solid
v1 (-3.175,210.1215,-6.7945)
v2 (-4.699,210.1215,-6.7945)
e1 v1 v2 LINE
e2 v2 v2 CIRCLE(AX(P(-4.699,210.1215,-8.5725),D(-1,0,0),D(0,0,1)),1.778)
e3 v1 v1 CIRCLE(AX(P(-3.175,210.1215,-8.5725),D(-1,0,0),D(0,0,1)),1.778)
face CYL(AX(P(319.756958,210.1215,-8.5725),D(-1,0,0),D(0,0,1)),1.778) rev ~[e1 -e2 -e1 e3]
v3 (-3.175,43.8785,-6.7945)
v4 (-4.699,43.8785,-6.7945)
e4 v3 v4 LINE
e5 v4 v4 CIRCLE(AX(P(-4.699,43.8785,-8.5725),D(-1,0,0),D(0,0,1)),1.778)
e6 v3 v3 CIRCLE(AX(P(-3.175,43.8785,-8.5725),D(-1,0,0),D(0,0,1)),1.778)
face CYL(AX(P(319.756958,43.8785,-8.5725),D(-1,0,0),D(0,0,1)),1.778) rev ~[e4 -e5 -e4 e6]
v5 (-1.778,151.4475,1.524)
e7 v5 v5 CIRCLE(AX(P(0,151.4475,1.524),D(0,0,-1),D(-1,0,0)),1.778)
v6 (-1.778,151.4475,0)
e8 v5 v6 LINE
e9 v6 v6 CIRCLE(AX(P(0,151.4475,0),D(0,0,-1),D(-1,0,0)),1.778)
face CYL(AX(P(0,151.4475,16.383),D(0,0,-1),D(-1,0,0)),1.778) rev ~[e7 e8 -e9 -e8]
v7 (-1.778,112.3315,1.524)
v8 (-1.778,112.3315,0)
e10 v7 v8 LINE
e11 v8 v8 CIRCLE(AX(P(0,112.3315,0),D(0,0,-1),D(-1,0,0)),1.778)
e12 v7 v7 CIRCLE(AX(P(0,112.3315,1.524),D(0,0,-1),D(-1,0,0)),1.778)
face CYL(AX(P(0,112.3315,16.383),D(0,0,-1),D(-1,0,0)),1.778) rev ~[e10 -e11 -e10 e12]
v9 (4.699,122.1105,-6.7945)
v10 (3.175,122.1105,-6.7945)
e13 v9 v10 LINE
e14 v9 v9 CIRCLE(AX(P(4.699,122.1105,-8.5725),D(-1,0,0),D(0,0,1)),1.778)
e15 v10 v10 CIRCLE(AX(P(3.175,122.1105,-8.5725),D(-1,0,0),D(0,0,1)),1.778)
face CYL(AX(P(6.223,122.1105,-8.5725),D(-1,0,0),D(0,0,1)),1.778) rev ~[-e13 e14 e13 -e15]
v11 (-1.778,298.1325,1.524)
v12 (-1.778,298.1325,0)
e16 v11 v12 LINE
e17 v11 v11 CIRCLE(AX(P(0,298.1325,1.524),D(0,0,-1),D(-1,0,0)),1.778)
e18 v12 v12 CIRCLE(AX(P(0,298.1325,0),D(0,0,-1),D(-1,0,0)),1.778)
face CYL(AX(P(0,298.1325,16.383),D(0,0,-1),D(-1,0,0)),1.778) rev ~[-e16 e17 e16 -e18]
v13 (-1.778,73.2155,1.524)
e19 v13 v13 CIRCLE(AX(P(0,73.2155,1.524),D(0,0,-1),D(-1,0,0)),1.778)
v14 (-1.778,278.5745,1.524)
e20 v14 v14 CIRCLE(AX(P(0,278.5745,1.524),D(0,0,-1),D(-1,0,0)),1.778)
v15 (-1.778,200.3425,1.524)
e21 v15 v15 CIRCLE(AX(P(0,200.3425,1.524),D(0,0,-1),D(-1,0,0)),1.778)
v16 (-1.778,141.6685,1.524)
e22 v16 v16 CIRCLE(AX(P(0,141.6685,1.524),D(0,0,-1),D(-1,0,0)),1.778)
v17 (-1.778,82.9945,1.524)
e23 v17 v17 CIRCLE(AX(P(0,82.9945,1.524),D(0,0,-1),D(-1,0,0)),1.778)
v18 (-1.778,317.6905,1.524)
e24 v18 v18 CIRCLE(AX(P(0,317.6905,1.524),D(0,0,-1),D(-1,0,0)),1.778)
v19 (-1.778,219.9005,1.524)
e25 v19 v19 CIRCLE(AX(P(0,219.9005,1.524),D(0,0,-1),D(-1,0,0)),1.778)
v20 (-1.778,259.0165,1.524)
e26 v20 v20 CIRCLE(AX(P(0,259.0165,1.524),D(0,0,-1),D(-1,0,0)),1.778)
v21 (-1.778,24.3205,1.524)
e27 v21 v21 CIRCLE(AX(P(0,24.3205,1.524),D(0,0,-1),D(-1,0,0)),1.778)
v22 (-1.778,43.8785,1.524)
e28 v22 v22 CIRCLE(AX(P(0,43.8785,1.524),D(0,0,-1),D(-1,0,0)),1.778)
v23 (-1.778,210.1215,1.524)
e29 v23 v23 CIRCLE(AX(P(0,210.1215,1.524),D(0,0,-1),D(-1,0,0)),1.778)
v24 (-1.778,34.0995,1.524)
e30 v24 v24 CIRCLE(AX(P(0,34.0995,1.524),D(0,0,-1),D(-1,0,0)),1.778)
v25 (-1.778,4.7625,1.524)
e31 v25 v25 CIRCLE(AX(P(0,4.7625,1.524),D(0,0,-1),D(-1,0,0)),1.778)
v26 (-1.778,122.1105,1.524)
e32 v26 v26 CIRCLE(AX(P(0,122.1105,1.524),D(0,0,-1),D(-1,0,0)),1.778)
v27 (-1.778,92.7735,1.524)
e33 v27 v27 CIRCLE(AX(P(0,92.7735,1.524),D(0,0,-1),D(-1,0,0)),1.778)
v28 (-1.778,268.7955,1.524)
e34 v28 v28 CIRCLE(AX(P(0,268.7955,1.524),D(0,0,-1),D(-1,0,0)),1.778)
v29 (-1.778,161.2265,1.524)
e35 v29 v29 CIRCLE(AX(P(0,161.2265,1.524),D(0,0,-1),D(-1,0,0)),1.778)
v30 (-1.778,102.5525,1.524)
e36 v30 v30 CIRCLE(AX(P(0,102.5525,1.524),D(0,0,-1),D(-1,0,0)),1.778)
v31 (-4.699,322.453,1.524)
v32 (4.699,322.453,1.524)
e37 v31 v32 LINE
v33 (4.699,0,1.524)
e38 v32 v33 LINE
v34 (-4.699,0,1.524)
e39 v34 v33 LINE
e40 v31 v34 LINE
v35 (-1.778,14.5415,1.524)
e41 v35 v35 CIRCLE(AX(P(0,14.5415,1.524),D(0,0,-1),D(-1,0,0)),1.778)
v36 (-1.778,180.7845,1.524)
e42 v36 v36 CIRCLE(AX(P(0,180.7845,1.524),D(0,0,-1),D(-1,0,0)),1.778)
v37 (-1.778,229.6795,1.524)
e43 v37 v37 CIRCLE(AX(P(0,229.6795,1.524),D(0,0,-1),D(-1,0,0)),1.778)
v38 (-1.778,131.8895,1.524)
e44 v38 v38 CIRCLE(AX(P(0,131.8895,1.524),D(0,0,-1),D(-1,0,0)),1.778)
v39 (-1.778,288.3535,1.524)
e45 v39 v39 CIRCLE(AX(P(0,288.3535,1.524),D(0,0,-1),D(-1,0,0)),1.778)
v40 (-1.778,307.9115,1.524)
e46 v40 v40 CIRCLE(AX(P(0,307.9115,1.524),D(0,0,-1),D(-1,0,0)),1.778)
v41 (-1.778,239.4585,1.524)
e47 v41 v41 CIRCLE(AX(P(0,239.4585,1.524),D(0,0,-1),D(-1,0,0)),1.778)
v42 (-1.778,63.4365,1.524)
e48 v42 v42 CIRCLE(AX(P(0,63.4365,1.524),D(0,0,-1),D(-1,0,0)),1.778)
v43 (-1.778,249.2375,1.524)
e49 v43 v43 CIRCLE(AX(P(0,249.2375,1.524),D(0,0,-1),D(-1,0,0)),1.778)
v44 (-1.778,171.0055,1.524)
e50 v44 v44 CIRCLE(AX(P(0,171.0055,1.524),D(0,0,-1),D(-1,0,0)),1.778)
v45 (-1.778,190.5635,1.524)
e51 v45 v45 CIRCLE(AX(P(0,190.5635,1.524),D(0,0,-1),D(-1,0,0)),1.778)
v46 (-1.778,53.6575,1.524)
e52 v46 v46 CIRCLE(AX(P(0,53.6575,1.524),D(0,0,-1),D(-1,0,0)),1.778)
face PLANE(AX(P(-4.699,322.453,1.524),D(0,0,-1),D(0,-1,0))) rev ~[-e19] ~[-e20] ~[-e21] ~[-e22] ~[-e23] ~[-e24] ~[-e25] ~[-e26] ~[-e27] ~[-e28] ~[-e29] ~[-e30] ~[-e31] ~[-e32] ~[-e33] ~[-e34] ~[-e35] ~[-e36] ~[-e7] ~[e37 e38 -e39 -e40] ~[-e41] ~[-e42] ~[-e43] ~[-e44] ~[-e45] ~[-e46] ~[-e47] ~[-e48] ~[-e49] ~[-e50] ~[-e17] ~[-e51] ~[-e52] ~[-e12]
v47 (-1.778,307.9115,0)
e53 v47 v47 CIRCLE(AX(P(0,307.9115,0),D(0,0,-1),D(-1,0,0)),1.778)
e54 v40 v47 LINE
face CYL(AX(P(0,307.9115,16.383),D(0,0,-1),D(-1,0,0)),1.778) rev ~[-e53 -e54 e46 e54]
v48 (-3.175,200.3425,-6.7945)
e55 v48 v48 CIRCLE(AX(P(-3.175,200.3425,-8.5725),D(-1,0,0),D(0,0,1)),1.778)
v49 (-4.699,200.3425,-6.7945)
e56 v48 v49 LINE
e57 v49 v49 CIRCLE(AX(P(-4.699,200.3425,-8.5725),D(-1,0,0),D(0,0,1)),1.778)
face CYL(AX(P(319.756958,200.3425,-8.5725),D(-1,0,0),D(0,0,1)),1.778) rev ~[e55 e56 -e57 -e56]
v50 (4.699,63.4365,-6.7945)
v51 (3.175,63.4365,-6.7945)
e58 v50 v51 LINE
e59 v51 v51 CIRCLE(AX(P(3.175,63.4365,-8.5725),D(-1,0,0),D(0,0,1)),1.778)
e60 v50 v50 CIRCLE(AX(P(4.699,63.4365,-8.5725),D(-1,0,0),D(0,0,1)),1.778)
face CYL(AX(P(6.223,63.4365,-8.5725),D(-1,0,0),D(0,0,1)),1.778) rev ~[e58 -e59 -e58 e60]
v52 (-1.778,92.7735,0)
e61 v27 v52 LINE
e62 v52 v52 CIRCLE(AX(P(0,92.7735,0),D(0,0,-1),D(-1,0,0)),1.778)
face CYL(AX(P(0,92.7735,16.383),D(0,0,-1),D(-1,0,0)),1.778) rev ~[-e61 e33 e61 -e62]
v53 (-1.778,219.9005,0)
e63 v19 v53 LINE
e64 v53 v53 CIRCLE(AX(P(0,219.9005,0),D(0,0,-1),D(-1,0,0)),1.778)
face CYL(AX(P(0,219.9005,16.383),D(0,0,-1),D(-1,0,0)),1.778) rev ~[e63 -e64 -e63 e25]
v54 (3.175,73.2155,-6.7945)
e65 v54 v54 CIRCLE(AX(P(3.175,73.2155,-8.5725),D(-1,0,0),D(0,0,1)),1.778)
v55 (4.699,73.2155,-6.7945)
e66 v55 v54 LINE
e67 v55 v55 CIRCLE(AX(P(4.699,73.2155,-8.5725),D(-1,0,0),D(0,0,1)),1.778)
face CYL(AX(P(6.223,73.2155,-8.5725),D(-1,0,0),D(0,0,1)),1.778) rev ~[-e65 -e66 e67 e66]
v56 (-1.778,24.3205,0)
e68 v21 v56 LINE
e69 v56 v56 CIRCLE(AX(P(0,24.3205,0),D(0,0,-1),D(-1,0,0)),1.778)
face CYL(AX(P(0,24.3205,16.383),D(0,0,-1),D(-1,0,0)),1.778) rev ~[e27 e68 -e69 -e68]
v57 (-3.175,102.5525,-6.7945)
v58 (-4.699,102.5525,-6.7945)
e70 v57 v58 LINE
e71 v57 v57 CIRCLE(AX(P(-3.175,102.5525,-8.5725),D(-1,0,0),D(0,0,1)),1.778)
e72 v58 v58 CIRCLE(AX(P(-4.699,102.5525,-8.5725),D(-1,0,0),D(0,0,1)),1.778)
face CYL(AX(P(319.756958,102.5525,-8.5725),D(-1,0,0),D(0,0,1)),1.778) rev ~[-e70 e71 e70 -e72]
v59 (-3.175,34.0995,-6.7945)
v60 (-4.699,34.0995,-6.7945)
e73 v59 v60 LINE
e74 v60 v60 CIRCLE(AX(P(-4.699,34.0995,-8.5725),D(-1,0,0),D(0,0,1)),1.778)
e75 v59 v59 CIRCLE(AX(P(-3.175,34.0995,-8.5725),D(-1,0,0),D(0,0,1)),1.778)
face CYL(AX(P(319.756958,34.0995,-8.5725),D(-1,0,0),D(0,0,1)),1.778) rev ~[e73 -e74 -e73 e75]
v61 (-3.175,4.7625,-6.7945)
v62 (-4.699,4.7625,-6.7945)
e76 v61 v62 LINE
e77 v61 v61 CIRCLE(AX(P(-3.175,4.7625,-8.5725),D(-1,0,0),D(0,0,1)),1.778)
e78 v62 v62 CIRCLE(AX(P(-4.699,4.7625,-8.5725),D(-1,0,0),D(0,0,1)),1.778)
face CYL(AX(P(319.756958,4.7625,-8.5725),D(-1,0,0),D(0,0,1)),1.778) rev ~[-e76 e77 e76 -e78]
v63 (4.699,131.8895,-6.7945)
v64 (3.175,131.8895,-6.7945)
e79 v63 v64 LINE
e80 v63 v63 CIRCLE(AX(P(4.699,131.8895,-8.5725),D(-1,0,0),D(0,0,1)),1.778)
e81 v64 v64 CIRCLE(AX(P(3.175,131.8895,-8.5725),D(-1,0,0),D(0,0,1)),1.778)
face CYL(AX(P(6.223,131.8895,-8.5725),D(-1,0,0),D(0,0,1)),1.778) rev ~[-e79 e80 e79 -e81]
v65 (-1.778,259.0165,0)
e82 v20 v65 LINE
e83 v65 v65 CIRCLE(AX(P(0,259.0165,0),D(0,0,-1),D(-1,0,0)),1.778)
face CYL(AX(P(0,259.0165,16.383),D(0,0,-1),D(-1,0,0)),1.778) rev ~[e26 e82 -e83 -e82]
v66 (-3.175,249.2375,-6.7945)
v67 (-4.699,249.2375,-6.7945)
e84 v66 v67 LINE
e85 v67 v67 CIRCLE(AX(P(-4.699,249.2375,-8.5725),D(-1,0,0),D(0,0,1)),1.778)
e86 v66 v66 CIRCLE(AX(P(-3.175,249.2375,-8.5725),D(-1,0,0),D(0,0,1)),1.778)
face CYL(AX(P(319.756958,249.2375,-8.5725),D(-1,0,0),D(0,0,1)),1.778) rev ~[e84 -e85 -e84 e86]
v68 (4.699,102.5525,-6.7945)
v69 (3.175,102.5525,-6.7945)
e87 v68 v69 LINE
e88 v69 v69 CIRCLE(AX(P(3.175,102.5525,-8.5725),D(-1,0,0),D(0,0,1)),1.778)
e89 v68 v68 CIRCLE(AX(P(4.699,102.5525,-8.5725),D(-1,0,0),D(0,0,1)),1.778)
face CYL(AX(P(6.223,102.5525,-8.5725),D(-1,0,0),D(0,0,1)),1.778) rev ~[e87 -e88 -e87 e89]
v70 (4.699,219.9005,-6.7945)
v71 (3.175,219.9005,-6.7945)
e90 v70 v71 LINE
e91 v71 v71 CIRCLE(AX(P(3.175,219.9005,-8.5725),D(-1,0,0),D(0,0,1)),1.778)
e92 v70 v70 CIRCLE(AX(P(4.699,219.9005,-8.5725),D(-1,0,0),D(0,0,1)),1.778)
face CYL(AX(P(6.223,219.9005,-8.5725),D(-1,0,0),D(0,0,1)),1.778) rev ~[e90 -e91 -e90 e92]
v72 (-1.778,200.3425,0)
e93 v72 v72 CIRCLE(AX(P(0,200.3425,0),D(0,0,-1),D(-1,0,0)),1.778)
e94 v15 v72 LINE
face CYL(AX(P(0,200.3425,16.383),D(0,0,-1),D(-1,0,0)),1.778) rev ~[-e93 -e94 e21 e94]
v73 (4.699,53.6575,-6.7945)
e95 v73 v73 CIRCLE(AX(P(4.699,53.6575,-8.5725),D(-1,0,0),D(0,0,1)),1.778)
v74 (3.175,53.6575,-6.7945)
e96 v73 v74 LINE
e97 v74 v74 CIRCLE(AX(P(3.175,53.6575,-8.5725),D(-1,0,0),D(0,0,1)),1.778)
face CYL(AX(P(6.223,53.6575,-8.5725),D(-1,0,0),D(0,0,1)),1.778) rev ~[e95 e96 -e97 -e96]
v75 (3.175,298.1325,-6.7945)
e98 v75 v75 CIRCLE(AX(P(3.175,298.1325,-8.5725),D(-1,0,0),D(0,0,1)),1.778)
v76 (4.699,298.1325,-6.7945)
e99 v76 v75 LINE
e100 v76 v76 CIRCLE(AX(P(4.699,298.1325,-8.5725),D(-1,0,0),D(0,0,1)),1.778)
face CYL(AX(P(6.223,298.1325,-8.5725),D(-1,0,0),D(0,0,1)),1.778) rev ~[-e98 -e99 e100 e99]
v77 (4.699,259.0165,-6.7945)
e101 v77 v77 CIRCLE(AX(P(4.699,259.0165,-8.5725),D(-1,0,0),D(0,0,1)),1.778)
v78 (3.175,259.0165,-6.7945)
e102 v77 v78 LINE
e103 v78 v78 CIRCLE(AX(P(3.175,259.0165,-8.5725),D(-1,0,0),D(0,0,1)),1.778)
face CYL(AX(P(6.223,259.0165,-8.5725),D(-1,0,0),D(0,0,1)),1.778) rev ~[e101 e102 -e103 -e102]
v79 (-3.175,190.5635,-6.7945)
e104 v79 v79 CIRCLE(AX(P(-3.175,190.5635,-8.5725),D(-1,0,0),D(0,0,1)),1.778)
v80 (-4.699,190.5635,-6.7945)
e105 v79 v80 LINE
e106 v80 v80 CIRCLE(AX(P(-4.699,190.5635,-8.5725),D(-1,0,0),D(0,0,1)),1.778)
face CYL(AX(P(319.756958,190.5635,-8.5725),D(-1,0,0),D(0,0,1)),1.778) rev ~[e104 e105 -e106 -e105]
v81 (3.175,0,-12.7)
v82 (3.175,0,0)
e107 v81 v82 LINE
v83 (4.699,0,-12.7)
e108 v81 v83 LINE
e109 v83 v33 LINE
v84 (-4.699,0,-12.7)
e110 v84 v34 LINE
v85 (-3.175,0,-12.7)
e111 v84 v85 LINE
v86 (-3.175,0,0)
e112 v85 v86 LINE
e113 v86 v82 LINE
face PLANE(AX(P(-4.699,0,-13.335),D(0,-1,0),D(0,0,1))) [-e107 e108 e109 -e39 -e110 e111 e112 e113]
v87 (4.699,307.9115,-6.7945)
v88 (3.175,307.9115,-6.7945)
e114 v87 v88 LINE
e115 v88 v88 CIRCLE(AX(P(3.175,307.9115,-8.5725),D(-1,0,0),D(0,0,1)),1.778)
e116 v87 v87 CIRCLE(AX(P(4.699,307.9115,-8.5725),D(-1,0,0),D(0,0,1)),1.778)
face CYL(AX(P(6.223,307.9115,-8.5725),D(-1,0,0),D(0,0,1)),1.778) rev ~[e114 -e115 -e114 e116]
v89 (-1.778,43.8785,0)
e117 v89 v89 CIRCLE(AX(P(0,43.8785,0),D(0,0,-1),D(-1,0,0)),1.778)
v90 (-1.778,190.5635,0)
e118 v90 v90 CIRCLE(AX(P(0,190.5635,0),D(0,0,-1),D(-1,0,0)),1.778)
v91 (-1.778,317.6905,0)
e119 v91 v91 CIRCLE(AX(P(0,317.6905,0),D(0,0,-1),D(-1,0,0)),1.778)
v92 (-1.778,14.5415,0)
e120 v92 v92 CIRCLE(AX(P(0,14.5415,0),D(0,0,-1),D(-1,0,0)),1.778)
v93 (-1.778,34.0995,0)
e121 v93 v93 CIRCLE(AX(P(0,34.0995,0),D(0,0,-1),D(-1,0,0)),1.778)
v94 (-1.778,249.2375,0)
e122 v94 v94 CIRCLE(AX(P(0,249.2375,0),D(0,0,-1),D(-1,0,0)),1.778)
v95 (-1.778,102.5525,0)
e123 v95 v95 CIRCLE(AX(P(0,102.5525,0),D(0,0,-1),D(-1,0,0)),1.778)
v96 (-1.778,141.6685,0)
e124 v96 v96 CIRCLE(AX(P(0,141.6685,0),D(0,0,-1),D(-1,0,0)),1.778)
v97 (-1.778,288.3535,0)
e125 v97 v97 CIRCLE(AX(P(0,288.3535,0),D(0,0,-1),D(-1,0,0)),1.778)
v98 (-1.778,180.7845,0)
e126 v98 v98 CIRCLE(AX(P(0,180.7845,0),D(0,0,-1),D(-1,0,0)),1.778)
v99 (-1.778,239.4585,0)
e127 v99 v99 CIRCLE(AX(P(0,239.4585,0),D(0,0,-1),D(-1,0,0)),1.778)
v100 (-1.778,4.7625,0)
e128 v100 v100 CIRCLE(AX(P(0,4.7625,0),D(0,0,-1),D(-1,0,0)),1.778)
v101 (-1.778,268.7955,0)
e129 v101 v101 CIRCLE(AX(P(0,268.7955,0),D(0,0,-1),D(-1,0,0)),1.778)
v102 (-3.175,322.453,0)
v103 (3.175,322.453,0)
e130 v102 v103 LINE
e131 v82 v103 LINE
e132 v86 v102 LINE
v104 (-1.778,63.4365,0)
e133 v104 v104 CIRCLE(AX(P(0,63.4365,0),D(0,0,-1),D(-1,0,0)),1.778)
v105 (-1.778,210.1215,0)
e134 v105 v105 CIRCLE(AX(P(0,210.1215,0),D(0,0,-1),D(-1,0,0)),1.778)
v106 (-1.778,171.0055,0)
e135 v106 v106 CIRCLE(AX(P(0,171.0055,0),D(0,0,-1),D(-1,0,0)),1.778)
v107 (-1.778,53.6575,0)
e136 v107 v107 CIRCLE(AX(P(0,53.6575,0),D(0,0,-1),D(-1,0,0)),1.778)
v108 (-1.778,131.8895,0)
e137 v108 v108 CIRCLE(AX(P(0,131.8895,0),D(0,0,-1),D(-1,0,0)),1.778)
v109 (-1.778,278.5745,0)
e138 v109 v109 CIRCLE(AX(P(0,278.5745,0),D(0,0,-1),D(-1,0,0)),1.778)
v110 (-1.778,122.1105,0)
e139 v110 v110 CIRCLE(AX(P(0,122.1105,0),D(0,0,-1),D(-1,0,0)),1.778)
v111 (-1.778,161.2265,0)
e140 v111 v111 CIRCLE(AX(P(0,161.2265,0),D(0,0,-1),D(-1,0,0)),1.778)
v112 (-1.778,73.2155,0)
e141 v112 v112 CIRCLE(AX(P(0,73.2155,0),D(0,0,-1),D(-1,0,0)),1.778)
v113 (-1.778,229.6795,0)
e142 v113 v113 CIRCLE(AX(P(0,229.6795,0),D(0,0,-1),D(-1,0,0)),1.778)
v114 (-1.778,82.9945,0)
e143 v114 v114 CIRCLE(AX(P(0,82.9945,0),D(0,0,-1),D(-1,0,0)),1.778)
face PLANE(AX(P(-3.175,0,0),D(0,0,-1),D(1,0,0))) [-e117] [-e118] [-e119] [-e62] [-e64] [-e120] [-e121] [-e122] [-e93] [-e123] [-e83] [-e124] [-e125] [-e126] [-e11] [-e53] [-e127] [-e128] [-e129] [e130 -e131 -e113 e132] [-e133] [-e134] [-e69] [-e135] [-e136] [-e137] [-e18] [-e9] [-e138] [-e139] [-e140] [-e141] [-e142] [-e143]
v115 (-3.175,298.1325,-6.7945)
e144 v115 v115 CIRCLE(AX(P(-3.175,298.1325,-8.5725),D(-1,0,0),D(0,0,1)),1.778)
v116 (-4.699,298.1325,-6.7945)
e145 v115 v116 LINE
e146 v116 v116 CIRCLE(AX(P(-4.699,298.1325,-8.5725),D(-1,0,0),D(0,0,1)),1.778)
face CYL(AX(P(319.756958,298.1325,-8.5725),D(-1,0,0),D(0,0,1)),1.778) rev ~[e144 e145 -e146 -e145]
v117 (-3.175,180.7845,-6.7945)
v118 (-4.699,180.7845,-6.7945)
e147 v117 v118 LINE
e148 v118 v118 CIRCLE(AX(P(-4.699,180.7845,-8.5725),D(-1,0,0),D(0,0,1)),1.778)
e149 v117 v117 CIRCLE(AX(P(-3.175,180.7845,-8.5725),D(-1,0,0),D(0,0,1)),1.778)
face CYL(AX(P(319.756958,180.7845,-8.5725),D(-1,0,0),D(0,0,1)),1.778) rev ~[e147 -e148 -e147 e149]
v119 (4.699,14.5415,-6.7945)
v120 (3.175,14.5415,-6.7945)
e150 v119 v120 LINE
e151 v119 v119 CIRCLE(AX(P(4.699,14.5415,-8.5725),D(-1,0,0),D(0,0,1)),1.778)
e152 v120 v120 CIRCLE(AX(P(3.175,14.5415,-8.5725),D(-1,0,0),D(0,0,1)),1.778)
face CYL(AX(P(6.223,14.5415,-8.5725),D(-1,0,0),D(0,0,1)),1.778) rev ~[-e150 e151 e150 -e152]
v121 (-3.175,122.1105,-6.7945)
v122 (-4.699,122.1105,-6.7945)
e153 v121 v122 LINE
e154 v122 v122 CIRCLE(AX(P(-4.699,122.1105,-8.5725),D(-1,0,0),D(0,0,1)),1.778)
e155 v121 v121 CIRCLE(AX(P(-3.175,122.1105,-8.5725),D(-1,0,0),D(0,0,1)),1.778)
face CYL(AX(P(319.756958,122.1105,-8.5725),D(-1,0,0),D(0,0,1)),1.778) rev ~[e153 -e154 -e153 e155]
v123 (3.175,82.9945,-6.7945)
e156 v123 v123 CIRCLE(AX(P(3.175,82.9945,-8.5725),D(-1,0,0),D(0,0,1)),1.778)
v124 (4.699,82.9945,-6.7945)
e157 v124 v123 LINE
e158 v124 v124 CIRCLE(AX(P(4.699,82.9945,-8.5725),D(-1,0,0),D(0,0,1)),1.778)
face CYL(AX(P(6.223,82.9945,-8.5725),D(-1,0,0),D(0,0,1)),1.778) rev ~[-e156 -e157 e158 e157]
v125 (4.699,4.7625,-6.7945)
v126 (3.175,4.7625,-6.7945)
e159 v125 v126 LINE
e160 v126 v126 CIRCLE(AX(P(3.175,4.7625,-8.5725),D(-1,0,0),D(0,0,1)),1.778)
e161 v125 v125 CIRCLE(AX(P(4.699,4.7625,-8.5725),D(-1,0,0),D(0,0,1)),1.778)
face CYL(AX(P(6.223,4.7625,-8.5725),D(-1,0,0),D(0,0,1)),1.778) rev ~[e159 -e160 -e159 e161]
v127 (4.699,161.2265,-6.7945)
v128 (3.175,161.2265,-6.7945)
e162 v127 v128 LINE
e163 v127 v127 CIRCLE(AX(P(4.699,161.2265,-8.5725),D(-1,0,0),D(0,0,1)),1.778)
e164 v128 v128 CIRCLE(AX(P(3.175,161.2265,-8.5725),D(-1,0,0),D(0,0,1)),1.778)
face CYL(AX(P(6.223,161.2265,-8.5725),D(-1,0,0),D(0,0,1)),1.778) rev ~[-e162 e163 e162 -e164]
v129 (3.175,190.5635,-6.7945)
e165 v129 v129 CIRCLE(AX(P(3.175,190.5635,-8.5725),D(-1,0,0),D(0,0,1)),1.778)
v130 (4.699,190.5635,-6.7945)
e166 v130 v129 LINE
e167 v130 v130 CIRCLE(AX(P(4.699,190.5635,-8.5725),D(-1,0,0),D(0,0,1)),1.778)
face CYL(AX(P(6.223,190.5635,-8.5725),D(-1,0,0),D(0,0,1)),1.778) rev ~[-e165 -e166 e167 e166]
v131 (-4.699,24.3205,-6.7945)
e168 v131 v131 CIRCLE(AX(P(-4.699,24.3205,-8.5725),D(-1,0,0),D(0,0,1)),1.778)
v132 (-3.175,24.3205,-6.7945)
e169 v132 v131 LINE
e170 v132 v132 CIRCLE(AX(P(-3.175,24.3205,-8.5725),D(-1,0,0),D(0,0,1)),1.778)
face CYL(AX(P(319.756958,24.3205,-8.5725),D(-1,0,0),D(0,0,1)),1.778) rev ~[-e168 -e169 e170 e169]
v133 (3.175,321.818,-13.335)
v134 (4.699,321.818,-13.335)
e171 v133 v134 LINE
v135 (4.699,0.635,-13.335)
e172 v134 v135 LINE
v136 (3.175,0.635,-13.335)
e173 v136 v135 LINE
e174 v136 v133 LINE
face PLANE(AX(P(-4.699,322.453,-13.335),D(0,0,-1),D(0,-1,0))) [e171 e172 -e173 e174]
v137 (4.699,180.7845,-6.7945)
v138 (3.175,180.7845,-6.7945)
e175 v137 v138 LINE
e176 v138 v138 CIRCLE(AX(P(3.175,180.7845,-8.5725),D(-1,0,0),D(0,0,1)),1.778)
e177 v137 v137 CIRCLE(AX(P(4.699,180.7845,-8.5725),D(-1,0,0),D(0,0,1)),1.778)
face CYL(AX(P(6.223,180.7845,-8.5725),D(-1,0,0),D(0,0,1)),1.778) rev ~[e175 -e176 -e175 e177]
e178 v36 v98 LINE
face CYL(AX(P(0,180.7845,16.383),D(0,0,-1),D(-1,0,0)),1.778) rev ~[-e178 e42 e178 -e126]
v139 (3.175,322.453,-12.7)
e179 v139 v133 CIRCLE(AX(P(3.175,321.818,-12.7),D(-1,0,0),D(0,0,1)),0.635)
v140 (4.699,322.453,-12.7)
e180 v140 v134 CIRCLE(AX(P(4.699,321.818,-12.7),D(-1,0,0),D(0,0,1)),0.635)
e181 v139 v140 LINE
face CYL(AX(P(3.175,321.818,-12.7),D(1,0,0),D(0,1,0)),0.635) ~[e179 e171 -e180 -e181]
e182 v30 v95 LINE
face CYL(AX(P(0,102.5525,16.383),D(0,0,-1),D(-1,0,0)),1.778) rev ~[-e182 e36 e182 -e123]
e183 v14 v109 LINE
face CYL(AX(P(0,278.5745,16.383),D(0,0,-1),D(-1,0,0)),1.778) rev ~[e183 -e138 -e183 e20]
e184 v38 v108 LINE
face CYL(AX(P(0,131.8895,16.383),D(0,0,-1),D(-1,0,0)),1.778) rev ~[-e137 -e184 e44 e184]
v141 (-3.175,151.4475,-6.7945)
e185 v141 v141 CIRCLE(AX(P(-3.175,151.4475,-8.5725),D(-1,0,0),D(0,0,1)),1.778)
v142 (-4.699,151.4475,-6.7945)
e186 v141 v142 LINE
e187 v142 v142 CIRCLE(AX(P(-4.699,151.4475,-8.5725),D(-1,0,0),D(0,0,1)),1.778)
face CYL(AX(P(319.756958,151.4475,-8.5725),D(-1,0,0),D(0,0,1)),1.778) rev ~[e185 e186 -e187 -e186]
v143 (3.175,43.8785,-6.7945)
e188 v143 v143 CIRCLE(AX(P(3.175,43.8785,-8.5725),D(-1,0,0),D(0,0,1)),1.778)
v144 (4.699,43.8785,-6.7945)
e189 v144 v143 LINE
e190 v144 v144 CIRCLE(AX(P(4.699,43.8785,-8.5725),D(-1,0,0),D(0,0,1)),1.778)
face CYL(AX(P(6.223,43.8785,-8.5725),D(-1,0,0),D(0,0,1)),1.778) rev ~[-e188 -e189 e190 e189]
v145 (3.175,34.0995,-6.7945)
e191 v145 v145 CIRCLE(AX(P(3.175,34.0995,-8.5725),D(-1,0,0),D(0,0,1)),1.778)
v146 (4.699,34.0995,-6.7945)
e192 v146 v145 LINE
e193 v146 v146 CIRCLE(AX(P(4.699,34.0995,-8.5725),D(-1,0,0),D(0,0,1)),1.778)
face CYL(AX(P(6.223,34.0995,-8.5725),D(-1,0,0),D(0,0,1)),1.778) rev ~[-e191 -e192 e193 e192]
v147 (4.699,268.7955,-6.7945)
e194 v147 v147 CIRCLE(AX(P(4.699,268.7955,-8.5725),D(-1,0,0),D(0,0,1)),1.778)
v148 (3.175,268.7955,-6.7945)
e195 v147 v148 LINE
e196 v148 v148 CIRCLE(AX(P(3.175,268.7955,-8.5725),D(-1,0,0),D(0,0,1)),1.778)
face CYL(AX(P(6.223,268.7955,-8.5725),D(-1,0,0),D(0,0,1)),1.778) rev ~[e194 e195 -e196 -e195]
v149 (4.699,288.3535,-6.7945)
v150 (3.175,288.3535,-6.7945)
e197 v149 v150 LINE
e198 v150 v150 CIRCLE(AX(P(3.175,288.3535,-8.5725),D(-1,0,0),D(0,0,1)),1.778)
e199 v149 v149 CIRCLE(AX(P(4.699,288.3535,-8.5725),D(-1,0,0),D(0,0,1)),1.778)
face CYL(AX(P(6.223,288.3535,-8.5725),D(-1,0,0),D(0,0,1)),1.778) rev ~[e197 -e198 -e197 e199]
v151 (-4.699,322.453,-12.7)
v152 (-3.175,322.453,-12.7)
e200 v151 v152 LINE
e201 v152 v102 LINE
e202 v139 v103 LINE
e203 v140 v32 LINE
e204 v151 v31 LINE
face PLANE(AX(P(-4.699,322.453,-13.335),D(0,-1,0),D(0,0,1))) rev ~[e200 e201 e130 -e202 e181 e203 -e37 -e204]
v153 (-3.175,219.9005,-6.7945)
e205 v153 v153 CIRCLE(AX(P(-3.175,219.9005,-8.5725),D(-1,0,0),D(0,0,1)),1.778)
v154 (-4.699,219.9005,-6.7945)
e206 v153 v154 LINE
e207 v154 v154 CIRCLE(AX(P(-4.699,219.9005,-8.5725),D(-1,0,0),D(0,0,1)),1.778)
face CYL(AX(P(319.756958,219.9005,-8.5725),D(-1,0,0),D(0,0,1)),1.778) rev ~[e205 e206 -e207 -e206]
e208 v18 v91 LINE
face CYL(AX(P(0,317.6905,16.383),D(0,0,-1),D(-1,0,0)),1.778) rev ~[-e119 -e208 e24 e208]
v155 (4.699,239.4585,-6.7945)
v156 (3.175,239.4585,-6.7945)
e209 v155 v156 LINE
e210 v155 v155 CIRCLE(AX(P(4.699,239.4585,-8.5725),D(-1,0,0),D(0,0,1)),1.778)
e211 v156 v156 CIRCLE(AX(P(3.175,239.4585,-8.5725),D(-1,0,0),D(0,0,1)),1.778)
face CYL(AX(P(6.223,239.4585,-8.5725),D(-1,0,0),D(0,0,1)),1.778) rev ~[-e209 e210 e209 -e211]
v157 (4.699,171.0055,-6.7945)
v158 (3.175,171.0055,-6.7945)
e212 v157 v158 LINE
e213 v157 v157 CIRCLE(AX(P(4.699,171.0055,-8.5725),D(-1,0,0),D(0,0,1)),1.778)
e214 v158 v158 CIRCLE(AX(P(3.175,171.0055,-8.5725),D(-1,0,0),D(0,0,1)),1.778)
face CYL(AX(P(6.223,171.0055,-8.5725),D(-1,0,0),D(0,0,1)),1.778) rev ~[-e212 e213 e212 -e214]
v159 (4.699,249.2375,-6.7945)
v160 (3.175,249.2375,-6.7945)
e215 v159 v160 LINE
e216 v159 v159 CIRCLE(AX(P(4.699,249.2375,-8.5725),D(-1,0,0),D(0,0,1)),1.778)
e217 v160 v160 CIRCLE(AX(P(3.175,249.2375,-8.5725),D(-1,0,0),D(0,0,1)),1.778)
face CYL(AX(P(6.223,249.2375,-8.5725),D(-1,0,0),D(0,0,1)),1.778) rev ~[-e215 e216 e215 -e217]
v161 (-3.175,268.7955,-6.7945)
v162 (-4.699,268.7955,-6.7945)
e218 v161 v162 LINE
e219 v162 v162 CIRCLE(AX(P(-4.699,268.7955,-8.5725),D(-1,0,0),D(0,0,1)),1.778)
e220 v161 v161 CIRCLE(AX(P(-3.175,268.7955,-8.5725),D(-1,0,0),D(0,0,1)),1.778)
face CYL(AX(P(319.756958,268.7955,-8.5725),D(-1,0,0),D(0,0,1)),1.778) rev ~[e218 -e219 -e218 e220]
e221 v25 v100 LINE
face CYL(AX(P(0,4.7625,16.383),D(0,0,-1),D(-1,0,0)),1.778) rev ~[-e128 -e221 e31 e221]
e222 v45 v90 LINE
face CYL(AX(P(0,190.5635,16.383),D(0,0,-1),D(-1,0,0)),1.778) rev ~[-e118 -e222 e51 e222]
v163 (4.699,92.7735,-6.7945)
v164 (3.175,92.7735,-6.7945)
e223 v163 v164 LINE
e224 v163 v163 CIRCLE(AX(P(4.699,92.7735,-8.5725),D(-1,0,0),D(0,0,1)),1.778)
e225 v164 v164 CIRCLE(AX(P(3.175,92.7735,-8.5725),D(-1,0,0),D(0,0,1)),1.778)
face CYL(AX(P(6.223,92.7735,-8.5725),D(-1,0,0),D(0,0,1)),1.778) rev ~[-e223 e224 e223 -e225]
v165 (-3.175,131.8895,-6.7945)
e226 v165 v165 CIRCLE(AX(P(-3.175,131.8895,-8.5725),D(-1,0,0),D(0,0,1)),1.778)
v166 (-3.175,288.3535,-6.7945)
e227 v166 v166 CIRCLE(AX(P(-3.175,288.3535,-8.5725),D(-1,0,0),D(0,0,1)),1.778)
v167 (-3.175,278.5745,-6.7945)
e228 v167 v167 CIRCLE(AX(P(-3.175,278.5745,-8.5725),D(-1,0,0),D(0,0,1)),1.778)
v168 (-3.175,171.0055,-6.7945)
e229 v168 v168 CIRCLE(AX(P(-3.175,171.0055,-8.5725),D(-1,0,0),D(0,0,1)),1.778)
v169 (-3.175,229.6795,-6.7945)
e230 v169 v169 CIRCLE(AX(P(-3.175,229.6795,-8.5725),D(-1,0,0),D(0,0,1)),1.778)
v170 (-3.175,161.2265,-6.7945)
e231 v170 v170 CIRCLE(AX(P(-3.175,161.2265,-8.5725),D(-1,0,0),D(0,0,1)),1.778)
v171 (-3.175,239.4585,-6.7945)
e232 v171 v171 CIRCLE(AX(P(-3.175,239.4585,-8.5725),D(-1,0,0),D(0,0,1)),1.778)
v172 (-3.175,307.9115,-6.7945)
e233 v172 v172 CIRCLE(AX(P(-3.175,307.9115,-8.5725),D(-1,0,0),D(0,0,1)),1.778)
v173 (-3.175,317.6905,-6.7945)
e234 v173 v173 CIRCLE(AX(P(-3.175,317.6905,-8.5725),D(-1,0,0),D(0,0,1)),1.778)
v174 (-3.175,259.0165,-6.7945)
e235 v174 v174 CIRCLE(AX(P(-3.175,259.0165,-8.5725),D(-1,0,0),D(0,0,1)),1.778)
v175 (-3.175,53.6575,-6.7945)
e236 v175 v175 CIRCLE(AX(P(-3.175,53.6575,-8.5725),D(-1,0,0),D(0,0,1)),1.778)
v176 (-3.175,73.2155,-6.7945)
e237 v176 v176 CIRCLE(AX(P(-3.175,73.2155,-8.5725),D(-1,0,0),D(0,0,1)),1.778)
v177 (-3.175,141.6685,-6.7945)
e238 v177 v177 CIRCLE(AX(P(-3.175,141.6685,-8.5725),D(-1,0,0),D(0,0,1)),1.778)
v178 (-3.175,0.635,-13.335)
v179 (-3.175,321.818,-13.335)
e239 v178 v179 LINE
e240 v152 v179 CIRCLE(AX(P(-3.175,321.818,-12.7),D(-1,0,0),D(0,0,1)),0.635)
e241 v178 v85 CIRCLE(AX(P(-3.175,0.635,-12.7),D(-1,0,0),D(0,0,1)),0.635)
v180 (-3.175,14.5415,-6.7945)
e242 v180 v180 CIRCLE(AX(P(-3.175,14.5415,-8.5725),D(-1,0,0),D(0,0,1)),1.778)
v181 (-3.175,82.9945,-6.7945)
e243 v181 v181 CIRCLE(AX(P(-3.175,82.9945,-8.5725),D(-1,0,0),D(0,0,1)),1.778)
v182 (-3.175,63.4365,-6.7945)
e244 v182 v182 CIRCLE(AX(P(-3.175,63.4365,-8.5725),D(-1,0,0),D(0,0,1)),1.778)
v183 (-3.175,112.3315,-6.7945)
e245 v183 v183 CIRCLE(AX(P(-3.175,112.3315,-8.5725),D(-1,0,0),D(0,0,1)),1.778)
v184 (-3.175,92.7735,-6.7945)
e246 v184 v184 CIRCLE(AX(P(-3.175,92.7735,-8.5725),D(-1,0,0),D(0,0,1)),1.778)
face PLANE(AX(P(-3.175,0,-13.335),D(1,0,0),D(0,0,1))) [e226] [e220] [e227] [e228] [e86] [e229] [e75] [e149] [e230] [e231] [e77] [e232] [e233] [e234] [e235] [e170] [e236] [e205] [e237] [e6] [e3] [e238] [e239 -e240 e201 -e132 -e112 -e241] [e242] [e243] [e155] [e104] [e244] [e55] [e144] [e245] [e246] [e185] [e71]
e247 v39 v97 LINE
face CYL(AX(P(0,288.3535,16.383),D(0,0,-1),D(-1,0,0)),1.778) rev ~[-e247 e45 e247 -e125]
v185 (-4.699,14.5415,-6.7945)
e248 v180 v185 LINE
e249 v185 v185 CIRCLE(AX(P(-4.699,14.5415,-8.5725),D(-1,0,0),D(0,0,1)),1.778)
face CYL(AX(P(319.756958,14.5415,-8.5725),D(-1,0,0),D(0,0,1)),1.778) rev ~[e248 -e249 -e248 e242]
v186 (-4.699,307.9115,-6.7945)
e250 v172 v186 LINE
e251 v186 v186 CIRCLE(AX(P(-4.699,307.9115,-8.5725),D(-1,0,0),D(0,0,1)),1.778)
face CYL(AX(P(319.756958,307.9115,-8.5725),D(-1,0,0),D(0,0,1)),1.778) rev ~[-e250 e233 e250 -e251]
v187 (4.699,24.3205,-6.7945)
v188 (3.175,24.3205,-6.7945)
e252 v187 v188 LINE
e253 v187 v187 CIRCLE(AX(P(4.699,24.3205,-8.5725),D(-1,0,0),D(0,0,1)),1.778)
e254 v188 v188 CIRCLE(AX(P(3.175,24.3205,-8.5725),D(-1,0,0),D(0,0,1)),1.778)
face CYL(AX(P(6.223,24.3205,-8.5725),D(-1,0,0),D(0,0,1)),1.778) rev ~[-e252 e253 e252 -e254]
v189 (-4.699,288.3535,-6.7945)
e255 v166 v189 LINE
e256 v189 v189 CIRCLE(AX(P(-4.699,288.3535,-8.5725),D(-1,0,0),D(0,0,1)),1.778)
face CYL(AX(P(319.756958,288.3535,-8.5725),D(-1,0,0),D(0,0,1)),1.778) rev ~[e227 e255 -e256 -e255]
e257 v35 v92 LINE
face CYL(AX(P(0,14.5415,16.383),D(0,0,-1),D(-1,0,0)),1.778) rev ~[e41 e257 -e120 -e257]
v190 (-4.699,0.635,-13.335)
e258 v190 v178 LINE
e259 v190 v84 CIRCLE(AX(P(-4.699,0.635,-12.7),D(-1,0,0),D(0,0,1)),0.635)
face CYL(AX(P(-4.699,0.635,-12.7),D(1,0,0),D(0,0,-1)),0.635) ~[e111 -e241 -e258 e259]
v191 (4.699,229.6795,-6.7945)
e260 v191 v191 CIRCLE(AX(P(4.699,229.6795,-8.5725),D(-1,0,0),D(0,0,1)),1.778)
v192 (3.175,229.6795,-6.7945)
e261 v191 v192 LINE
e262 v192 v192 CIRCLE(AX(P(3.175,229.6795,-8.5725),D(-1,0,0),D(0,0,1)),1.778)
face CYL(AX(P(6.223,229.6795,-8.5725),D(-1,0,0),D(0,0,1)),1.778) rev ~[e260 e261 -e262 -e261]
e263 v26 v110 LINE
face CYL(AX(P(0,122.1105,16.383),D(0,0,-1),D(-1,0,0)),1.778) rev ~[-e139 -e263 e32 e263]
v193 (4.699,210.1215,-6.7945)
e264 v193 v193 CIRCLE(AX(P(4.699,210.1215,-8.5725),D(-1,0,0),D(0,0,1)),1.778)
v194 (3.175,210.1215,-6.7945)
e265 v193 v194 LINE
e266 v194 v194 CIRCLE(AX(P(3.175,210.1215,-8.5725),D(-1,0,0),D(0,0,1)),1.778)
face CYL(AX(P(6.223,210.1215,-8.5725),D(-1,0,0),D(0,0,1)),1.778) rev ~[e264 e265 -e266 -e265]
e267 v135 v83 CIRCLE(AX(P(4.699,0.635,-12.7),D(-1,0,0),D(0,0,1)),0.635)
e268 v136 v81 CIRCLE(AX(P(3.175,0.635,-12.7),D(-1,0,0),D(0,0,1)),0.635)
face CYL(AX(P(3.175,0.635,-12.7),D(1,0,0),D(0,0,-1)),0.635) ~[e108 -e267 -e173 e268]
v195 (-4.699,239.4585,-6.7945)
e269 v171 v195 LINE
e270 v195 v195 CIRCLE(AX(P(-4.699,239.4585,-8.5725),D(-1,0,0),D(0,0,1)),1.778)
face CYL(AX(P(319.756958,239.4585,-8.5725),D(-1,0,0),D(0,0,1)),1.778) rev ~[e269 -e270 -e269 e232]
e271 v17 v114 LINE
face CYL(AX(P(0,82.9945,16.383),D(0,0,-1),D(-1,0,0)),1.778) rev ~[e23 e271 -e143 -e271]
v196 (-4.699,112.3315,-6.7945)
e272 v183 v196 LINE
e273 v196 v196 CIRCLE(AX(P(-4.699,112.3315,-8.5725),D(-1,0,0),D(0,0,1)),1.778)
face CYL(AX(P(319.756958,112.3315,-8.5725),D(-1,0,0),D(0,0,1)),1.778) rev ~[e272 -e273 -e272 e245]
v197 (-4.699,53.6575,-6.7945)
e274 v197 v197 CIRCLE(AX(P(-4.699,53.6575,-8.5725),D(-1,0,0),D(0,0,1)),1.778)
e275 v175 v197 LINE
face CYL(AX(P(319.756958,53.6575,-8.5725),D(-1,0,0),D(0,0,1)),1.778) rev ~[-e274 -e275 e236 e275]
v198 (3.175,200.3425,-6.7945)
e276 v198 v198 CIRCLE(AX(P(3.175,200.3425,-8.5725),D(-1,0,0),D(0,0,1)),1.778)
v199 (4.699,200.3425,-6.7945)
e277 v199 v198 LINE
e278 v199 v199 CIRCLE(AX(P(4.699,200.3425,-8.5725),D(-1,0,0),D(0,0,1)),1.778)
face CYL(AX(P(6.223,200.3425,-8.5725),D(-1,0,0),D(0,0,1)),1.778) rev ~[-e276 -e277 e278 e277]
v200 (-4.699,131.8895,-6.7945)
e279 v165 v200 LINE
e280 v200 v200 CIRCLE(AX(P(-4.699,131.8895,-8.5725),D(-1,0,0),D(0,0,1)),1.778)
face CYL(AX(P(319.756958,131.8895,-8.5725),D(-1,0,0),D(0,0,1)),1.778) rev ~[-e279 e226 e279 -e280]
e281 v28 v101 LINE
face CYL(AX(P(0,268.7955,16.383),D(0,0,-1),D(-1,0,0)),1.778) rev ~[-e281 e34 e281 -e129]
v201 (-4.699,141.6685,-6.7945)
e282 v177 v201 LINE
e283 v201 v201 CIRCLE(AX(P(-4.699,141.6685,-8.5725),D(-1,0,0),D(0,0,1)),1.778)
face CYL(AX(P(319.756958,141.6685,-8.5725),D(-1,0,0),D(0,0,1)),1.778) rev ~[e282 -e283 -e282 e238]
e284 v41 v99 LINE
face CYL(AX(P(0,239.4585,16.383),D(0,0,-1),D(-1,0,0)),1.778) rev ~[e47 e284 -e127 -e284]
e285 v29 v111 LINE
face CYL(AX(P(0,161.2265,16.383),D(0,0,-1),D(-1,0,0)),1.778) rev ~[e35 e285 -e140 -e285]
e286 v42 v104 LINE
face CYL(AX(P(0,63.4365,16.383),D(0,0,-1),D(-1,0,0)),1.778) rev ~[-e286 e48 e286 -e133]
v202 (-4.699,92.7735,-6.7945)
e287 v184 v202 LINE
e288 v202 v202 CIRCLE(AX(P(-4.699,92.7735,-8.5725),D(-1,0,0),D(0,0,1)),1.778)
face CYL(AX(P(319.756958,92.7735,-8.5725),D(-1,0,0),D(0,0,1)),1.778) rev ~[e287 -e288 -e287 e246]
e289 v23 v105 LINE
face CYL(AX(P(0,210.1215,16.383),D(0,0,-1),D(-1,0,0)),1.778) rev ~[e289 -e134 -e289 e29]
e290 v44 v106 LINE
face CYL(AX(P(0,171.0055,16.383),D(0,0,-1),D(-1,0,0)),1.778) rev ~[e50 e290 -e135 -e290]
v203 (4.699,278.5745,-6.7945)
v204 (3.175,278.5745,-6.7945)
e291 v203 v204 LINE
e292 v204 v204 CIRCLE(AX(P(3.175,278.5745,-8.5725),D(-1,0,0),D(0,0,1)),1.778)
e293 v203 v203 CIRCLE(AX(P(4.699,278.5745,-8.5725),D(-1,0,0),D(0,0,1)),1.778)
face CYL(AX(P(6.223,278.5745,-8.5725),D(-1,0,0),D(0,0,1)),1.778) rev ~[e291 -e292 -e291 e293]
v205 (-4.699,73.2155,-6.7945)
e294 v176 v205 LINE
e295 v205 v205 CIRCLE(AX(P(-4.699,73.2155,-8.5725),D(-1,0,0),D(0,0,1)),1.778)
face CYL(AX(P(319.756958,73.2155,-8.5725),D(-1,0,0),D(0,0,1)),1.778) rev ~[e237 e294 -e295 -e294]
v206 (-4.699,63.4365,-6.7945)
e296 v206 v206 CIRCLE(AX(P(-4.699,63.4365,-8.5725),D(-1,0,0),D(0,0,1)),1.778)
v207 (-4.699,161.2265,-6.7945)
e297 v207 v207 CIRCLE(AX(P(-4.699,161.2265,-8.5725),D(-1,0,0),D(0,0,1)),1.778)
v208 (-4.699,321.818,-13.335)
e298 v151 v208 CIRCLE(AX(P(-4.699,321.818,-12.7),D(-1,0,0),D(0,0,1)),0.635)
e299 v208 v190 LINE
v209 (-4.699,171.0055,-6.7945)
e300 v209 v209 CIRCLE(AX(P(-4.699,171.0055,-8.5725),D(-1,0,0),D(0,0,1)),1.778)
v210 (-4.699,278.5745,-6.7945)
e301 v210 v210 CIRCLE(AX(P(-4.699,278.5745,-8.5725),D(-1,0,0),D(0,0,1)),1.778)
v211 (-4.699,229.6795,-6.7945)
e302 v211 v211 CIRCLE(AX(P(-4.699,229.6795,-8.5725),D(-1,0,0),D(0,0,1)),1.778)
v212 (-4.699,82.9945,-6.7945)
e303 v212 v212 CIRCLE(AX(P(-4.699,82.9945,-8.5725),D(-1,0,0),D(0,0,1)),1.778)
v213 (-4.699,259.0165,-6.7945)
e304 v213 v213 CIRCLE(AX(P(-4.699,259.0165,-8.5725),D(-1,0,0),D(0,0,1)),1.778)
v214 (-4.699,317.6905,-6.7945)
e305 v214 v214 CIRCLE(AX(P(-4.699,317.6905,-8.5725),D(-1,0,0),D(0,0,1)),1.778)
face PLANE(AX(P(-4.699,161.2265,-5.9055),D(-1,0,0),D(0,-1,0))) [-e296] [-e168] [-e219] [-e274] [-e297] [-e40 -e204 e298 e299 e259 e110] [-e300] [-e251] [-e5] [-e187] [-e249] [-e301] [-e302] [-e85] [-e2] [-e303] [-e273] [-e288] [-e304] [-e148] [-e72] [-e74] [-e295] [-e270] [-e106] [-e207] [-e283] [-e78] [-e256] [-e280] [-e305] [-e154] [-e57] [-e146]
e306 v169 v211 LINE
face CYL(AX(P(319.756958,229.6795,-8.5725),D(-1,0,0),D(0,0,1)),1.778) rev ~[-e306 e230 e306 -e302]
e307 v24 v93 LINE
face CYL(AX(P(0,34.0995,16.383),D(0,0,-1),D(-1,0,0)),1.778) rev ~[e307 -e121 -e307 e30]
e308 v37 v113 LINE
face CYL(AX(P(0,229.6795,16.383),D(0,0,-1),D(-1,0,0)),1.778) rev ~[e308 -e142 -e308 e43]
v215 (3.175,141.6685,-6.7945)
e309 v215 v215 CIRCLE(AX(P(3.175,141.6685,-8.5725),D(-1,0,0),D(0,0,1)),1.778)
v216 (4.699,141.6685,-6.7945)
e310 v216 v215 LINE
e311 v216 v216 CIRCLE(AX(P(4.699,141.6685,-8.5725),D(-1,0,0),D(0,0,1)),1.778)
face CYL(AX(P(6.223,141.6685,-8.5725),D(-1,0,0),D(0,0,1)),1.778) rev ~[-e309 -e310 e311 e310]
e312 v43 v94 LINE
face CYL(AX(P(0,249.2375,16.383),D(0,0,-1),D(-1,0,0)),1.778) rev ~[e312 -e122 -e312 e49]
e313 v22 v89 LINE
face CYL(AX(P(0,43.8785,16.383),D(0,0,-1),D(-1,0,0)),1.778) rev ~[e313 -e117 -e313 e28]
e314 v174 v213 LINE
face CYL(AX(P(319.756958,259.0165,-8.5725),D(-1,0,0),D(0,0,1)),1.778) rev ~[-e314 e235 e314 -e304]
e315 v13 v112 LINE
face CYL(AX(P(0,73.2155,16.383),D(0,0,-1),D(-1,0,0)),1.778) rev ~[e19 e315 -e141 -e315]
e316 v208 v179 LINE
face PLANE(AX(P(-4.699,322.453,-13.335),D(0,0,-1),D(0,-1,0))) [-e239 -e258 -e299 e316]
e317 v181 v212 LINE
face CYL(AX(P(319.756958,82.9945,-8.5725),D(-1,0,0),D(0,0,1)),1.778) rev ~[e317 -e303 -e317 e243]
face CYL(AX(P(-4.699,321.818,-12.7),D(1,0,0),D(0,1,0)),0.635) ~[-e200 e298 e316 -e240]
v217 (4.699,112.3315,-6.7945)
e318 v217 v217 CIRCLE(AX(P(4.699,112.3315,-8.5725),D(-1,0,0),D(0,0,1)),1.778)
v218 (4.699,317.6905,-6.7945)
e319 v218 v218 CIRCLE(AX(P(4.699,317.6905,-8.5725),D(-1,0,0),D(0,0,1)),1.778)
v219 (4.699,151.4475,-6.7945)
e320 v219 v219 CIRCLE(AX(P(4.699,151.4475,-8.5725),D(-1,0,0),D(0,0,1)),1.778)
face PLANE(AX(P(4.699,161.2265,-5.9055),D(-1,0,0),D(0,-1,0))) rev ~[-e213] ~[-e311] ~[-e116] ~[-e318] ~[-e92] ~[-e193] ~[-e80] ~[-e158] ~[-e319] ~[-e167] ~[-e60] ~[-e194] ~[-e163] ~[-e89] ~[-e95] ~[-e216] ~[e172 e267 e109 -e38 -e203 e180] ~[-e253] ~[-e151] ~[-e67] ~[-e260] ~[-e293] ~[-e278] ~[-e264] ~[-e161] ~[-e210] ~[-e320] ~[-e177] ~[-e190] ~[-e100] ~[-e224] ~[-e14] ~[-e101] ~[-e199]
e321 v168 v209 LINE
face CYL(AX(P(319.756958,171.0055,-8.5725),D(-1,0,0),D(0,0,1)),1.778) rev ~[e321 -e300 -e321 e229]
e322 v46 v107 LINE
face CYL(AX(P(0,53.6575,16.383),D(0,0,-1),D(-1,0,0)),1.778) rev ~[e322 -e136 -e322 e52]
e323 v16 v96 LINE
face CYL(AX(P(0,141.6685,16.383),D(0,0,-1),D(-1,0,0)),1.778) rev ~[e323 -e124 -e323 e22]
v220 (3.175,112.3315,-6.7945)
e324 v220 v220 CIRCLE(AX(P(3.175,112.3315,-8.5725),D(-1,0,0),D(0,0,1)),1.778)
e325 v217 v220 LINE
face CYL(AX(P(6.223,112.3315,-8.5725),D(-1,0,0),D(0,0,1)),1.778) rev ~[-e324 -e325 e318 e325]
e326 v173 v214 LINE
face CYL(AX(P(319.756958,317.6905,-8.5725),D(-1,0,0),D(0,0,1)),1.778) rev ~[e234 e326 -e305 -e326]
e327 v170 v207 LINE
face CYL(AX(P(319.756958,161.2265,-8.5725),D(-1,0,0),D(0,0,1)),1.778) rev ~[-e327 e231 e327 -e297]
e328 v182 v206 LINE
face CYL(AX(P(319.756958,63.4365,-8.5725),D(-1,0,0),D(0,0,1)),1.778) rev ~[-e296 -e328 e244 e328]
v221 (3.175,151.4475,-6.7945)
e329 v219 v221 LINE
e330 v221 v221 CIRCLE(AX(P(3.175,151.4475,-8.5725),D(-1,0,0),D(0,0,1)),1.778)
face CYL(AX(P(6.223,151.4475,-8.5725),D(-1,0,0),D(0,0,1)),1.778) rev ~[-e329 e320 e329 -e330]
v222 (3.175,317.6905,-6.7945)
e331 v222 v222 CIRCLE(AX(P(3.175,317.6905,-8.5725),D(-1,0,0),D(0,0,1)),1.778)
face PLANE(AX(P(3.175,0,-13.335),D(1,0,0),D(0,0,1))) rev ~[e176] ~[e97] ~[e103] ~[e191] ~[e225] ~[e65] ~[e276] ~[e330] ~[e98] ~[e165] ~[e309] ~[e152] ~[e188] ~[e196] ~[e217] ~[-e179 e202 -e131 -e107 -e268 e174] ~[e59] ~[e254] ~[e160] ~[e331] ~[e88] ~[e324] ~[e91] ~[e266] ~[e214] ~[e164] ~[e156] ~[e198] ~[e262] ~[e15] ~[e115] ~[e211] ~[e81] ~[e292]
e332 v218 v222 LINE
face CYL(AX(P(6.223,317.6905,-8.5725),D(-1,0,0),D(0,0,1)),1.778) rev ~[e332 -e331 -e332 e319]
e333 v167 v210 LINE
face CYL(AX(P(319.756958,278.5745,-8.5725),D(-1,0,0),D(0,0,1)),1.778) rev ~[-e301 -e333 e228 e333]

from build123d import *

# Parameters (mm, degrees)
SKETCH1_W                 = 322.453
SKETCH1_H                 = 14.859
BOSS_EXTRUDE1_DEPTH       = 9.398
SKETCH2_W                 = 6.35
SKETCH2_H                 = 13.335
CUT_EXTRUDE1_DEPTH        = 323.762823192
F_5_CLEARANCE_HOLE1_D     = 3.556
F_5_CLEARANCE_HOLE1_DEPTH = 1.524
F_5_CLEARANCE_HOLE2_D     = 3.556
F_5_CLEARANCE_HOLE2_DEPTH = 14.859
F_5_CLEARANCE_HOLE3_D     = 3.556
FILLET1_R                 = 0.635


with BuildPart() as part:
    # Sketch1 → Boss-Extrude1 (new body)
    with BuildSketch(Plane(origin=(-4.699, 0, 0), x_dir=(0, -1, 0), z_dir=(-1, 0, 0))):
        with Locations((-161.2265, -5.9055)):
            Rectangle(SKETCH1_W, SKETCH1_H)
    extrude(amount=-BOSS_EXTRUDE1_DEPTH)

    # Sketch2 → Cut-Extrude1 (cut, through all)
    with BuildSketch(Plane.XZ):
        with Locations((0, -6.6675)):
            Rectangle(SKETCH2_W, SKETCH2_H)
    extrude(amount=-CUT_EXTRUDE1_DEPTH, mode=Mode.SUBTRACT)

    # #5 Clearance Hole1
    with Locations(Plane(origin=(4.699, 0, 0), x_dir=(0, 0, -1), z_dir=(1, 0, 0))):
        with Locations((8.5725, 307.9115), (8.5725, 317.6905), (8.5725, 298.1325), (8.5725, 288.3535), (8.5725, 278.5745), (8.5725, 268.7955), (8.5725, 259.0165), (8.5725, 249.2375), (8.5725, 239.4585), (8.5725, 229.6795), (8.5725, 219.9005), (8.5725, 210.1215), (8.5725, 200.3425), (8.5725, 190.5635), (8.5725, 180.7845), (8.5725, 171.0055), (8.5725, 161.2265), (8.5725, 151.4475), (8.5725, 141.6685), (8.5725, 131.8895), (8.5725, 122.1105), (8.5725, 112.3315), (8.5725, 102.5525), (8.5725, 92.7735), (8.5725, 82.9945), (8.5725, 73.2155), (8.5725, 63.4365), (8.5725, 53.6575), (8.5725, 43.8785), (8.5725, 34.0995), (8.5725, 24.3205), (8.5725, 14.5415), (8.5725, 4.7625)):
            Hole(F_5_CLEARANCE_HOLE1_D / 2, depth=F_5_CLEARANCE_HOLE1_DEPTH)

    # #5 Clearance Hole2
    with Locations(Plane.XY.offset(1.524)):
        with Locations((0, 307.9115), (0, 317.6905), (0, 298.1325), (0, 288.3535), (0, 278.5745), (0, 268.7955), (0, 259.0165), (0, 249.2375), (0, 239.4585), (0, 229.6795), (0, 219.9005), (0, 210.1215), (0, 200.3425), (0, 190.5635), (0, 180.7845), (0, 171.0055), (0, 161.2265), (0, 151.4475), (0, 141.6685), (0, 131.8895), (0, 122.1105), (0, 112.3315), (0, 102.5525), (0, 92.7735), (0, 82.9945), (0, 73.2155), (0, 63.4365), (0, 53.6575), (0, 43.8785), (0, 34.0995), (0, 24.3205), (0, 14.5415), (0, 4.7625)):
            Hole(F_5_CLEARANCE_HOLE2_D / 2, depth=F_5_CLEARANCE_HOLE2_DEPTH)

    # #5 Clearance Hole3 (through all)
    with Locations(Plane(origin=(-3.175, 0, 0), x_dir=(0, 0, -1), z_dir=(1, 0, 0))):
        with Locations((8.5725, 307.9115), (8.5725, 317.6905), (8.5725, 298.1325), (8.5725, 288.3535), (8.5725, 278.5745), (8.5725, 268.7955), (8.5725, 259.0165), (8.5725, 249.2375), (8.5725, 239.4585), (8.5725, 229.6795), (8.5725, 219.9005), (8.5725, 210.1215), (8.5725, 200.3425), (8.5725, 190.5635), (8.5725, 180.7845), (8.5725, 171.0055), (8.5725, 161.2265), (8.5725, 151.4475), (8.5725, 141.6685), (8.5725, 131.8895), (8.5725, 122.1105), (8.5725, 112.3315), (8.5725, 102.5525), (8.5725, 92.7735), (8.5725, 82.9945), (8.5725, 73.2155), (8.5725, 63.4365), (8.5725, 53.6575), (8.5725, 43.8785), (8.5725, 34.0995), (8.5725, 24.3205), (8.5725, 14.5415), (8.5725, 4.7625)):
            Hole(F_5_CLEARANCE_HOLE3_D / 2)

    # Fillet1
    fillet1_edges = [part.edges().sort_by_distance(p)[0] for p in [
        (-3.937, 322.453, -13.335),
        (-3.937, 0, -13.335),
        (3.937, 0, -13.335),
        (3.937, 322.453, -13.335),
    ]]
    fillet(fillet1_edges, radius=FILLET1_R)


solid = part.part
